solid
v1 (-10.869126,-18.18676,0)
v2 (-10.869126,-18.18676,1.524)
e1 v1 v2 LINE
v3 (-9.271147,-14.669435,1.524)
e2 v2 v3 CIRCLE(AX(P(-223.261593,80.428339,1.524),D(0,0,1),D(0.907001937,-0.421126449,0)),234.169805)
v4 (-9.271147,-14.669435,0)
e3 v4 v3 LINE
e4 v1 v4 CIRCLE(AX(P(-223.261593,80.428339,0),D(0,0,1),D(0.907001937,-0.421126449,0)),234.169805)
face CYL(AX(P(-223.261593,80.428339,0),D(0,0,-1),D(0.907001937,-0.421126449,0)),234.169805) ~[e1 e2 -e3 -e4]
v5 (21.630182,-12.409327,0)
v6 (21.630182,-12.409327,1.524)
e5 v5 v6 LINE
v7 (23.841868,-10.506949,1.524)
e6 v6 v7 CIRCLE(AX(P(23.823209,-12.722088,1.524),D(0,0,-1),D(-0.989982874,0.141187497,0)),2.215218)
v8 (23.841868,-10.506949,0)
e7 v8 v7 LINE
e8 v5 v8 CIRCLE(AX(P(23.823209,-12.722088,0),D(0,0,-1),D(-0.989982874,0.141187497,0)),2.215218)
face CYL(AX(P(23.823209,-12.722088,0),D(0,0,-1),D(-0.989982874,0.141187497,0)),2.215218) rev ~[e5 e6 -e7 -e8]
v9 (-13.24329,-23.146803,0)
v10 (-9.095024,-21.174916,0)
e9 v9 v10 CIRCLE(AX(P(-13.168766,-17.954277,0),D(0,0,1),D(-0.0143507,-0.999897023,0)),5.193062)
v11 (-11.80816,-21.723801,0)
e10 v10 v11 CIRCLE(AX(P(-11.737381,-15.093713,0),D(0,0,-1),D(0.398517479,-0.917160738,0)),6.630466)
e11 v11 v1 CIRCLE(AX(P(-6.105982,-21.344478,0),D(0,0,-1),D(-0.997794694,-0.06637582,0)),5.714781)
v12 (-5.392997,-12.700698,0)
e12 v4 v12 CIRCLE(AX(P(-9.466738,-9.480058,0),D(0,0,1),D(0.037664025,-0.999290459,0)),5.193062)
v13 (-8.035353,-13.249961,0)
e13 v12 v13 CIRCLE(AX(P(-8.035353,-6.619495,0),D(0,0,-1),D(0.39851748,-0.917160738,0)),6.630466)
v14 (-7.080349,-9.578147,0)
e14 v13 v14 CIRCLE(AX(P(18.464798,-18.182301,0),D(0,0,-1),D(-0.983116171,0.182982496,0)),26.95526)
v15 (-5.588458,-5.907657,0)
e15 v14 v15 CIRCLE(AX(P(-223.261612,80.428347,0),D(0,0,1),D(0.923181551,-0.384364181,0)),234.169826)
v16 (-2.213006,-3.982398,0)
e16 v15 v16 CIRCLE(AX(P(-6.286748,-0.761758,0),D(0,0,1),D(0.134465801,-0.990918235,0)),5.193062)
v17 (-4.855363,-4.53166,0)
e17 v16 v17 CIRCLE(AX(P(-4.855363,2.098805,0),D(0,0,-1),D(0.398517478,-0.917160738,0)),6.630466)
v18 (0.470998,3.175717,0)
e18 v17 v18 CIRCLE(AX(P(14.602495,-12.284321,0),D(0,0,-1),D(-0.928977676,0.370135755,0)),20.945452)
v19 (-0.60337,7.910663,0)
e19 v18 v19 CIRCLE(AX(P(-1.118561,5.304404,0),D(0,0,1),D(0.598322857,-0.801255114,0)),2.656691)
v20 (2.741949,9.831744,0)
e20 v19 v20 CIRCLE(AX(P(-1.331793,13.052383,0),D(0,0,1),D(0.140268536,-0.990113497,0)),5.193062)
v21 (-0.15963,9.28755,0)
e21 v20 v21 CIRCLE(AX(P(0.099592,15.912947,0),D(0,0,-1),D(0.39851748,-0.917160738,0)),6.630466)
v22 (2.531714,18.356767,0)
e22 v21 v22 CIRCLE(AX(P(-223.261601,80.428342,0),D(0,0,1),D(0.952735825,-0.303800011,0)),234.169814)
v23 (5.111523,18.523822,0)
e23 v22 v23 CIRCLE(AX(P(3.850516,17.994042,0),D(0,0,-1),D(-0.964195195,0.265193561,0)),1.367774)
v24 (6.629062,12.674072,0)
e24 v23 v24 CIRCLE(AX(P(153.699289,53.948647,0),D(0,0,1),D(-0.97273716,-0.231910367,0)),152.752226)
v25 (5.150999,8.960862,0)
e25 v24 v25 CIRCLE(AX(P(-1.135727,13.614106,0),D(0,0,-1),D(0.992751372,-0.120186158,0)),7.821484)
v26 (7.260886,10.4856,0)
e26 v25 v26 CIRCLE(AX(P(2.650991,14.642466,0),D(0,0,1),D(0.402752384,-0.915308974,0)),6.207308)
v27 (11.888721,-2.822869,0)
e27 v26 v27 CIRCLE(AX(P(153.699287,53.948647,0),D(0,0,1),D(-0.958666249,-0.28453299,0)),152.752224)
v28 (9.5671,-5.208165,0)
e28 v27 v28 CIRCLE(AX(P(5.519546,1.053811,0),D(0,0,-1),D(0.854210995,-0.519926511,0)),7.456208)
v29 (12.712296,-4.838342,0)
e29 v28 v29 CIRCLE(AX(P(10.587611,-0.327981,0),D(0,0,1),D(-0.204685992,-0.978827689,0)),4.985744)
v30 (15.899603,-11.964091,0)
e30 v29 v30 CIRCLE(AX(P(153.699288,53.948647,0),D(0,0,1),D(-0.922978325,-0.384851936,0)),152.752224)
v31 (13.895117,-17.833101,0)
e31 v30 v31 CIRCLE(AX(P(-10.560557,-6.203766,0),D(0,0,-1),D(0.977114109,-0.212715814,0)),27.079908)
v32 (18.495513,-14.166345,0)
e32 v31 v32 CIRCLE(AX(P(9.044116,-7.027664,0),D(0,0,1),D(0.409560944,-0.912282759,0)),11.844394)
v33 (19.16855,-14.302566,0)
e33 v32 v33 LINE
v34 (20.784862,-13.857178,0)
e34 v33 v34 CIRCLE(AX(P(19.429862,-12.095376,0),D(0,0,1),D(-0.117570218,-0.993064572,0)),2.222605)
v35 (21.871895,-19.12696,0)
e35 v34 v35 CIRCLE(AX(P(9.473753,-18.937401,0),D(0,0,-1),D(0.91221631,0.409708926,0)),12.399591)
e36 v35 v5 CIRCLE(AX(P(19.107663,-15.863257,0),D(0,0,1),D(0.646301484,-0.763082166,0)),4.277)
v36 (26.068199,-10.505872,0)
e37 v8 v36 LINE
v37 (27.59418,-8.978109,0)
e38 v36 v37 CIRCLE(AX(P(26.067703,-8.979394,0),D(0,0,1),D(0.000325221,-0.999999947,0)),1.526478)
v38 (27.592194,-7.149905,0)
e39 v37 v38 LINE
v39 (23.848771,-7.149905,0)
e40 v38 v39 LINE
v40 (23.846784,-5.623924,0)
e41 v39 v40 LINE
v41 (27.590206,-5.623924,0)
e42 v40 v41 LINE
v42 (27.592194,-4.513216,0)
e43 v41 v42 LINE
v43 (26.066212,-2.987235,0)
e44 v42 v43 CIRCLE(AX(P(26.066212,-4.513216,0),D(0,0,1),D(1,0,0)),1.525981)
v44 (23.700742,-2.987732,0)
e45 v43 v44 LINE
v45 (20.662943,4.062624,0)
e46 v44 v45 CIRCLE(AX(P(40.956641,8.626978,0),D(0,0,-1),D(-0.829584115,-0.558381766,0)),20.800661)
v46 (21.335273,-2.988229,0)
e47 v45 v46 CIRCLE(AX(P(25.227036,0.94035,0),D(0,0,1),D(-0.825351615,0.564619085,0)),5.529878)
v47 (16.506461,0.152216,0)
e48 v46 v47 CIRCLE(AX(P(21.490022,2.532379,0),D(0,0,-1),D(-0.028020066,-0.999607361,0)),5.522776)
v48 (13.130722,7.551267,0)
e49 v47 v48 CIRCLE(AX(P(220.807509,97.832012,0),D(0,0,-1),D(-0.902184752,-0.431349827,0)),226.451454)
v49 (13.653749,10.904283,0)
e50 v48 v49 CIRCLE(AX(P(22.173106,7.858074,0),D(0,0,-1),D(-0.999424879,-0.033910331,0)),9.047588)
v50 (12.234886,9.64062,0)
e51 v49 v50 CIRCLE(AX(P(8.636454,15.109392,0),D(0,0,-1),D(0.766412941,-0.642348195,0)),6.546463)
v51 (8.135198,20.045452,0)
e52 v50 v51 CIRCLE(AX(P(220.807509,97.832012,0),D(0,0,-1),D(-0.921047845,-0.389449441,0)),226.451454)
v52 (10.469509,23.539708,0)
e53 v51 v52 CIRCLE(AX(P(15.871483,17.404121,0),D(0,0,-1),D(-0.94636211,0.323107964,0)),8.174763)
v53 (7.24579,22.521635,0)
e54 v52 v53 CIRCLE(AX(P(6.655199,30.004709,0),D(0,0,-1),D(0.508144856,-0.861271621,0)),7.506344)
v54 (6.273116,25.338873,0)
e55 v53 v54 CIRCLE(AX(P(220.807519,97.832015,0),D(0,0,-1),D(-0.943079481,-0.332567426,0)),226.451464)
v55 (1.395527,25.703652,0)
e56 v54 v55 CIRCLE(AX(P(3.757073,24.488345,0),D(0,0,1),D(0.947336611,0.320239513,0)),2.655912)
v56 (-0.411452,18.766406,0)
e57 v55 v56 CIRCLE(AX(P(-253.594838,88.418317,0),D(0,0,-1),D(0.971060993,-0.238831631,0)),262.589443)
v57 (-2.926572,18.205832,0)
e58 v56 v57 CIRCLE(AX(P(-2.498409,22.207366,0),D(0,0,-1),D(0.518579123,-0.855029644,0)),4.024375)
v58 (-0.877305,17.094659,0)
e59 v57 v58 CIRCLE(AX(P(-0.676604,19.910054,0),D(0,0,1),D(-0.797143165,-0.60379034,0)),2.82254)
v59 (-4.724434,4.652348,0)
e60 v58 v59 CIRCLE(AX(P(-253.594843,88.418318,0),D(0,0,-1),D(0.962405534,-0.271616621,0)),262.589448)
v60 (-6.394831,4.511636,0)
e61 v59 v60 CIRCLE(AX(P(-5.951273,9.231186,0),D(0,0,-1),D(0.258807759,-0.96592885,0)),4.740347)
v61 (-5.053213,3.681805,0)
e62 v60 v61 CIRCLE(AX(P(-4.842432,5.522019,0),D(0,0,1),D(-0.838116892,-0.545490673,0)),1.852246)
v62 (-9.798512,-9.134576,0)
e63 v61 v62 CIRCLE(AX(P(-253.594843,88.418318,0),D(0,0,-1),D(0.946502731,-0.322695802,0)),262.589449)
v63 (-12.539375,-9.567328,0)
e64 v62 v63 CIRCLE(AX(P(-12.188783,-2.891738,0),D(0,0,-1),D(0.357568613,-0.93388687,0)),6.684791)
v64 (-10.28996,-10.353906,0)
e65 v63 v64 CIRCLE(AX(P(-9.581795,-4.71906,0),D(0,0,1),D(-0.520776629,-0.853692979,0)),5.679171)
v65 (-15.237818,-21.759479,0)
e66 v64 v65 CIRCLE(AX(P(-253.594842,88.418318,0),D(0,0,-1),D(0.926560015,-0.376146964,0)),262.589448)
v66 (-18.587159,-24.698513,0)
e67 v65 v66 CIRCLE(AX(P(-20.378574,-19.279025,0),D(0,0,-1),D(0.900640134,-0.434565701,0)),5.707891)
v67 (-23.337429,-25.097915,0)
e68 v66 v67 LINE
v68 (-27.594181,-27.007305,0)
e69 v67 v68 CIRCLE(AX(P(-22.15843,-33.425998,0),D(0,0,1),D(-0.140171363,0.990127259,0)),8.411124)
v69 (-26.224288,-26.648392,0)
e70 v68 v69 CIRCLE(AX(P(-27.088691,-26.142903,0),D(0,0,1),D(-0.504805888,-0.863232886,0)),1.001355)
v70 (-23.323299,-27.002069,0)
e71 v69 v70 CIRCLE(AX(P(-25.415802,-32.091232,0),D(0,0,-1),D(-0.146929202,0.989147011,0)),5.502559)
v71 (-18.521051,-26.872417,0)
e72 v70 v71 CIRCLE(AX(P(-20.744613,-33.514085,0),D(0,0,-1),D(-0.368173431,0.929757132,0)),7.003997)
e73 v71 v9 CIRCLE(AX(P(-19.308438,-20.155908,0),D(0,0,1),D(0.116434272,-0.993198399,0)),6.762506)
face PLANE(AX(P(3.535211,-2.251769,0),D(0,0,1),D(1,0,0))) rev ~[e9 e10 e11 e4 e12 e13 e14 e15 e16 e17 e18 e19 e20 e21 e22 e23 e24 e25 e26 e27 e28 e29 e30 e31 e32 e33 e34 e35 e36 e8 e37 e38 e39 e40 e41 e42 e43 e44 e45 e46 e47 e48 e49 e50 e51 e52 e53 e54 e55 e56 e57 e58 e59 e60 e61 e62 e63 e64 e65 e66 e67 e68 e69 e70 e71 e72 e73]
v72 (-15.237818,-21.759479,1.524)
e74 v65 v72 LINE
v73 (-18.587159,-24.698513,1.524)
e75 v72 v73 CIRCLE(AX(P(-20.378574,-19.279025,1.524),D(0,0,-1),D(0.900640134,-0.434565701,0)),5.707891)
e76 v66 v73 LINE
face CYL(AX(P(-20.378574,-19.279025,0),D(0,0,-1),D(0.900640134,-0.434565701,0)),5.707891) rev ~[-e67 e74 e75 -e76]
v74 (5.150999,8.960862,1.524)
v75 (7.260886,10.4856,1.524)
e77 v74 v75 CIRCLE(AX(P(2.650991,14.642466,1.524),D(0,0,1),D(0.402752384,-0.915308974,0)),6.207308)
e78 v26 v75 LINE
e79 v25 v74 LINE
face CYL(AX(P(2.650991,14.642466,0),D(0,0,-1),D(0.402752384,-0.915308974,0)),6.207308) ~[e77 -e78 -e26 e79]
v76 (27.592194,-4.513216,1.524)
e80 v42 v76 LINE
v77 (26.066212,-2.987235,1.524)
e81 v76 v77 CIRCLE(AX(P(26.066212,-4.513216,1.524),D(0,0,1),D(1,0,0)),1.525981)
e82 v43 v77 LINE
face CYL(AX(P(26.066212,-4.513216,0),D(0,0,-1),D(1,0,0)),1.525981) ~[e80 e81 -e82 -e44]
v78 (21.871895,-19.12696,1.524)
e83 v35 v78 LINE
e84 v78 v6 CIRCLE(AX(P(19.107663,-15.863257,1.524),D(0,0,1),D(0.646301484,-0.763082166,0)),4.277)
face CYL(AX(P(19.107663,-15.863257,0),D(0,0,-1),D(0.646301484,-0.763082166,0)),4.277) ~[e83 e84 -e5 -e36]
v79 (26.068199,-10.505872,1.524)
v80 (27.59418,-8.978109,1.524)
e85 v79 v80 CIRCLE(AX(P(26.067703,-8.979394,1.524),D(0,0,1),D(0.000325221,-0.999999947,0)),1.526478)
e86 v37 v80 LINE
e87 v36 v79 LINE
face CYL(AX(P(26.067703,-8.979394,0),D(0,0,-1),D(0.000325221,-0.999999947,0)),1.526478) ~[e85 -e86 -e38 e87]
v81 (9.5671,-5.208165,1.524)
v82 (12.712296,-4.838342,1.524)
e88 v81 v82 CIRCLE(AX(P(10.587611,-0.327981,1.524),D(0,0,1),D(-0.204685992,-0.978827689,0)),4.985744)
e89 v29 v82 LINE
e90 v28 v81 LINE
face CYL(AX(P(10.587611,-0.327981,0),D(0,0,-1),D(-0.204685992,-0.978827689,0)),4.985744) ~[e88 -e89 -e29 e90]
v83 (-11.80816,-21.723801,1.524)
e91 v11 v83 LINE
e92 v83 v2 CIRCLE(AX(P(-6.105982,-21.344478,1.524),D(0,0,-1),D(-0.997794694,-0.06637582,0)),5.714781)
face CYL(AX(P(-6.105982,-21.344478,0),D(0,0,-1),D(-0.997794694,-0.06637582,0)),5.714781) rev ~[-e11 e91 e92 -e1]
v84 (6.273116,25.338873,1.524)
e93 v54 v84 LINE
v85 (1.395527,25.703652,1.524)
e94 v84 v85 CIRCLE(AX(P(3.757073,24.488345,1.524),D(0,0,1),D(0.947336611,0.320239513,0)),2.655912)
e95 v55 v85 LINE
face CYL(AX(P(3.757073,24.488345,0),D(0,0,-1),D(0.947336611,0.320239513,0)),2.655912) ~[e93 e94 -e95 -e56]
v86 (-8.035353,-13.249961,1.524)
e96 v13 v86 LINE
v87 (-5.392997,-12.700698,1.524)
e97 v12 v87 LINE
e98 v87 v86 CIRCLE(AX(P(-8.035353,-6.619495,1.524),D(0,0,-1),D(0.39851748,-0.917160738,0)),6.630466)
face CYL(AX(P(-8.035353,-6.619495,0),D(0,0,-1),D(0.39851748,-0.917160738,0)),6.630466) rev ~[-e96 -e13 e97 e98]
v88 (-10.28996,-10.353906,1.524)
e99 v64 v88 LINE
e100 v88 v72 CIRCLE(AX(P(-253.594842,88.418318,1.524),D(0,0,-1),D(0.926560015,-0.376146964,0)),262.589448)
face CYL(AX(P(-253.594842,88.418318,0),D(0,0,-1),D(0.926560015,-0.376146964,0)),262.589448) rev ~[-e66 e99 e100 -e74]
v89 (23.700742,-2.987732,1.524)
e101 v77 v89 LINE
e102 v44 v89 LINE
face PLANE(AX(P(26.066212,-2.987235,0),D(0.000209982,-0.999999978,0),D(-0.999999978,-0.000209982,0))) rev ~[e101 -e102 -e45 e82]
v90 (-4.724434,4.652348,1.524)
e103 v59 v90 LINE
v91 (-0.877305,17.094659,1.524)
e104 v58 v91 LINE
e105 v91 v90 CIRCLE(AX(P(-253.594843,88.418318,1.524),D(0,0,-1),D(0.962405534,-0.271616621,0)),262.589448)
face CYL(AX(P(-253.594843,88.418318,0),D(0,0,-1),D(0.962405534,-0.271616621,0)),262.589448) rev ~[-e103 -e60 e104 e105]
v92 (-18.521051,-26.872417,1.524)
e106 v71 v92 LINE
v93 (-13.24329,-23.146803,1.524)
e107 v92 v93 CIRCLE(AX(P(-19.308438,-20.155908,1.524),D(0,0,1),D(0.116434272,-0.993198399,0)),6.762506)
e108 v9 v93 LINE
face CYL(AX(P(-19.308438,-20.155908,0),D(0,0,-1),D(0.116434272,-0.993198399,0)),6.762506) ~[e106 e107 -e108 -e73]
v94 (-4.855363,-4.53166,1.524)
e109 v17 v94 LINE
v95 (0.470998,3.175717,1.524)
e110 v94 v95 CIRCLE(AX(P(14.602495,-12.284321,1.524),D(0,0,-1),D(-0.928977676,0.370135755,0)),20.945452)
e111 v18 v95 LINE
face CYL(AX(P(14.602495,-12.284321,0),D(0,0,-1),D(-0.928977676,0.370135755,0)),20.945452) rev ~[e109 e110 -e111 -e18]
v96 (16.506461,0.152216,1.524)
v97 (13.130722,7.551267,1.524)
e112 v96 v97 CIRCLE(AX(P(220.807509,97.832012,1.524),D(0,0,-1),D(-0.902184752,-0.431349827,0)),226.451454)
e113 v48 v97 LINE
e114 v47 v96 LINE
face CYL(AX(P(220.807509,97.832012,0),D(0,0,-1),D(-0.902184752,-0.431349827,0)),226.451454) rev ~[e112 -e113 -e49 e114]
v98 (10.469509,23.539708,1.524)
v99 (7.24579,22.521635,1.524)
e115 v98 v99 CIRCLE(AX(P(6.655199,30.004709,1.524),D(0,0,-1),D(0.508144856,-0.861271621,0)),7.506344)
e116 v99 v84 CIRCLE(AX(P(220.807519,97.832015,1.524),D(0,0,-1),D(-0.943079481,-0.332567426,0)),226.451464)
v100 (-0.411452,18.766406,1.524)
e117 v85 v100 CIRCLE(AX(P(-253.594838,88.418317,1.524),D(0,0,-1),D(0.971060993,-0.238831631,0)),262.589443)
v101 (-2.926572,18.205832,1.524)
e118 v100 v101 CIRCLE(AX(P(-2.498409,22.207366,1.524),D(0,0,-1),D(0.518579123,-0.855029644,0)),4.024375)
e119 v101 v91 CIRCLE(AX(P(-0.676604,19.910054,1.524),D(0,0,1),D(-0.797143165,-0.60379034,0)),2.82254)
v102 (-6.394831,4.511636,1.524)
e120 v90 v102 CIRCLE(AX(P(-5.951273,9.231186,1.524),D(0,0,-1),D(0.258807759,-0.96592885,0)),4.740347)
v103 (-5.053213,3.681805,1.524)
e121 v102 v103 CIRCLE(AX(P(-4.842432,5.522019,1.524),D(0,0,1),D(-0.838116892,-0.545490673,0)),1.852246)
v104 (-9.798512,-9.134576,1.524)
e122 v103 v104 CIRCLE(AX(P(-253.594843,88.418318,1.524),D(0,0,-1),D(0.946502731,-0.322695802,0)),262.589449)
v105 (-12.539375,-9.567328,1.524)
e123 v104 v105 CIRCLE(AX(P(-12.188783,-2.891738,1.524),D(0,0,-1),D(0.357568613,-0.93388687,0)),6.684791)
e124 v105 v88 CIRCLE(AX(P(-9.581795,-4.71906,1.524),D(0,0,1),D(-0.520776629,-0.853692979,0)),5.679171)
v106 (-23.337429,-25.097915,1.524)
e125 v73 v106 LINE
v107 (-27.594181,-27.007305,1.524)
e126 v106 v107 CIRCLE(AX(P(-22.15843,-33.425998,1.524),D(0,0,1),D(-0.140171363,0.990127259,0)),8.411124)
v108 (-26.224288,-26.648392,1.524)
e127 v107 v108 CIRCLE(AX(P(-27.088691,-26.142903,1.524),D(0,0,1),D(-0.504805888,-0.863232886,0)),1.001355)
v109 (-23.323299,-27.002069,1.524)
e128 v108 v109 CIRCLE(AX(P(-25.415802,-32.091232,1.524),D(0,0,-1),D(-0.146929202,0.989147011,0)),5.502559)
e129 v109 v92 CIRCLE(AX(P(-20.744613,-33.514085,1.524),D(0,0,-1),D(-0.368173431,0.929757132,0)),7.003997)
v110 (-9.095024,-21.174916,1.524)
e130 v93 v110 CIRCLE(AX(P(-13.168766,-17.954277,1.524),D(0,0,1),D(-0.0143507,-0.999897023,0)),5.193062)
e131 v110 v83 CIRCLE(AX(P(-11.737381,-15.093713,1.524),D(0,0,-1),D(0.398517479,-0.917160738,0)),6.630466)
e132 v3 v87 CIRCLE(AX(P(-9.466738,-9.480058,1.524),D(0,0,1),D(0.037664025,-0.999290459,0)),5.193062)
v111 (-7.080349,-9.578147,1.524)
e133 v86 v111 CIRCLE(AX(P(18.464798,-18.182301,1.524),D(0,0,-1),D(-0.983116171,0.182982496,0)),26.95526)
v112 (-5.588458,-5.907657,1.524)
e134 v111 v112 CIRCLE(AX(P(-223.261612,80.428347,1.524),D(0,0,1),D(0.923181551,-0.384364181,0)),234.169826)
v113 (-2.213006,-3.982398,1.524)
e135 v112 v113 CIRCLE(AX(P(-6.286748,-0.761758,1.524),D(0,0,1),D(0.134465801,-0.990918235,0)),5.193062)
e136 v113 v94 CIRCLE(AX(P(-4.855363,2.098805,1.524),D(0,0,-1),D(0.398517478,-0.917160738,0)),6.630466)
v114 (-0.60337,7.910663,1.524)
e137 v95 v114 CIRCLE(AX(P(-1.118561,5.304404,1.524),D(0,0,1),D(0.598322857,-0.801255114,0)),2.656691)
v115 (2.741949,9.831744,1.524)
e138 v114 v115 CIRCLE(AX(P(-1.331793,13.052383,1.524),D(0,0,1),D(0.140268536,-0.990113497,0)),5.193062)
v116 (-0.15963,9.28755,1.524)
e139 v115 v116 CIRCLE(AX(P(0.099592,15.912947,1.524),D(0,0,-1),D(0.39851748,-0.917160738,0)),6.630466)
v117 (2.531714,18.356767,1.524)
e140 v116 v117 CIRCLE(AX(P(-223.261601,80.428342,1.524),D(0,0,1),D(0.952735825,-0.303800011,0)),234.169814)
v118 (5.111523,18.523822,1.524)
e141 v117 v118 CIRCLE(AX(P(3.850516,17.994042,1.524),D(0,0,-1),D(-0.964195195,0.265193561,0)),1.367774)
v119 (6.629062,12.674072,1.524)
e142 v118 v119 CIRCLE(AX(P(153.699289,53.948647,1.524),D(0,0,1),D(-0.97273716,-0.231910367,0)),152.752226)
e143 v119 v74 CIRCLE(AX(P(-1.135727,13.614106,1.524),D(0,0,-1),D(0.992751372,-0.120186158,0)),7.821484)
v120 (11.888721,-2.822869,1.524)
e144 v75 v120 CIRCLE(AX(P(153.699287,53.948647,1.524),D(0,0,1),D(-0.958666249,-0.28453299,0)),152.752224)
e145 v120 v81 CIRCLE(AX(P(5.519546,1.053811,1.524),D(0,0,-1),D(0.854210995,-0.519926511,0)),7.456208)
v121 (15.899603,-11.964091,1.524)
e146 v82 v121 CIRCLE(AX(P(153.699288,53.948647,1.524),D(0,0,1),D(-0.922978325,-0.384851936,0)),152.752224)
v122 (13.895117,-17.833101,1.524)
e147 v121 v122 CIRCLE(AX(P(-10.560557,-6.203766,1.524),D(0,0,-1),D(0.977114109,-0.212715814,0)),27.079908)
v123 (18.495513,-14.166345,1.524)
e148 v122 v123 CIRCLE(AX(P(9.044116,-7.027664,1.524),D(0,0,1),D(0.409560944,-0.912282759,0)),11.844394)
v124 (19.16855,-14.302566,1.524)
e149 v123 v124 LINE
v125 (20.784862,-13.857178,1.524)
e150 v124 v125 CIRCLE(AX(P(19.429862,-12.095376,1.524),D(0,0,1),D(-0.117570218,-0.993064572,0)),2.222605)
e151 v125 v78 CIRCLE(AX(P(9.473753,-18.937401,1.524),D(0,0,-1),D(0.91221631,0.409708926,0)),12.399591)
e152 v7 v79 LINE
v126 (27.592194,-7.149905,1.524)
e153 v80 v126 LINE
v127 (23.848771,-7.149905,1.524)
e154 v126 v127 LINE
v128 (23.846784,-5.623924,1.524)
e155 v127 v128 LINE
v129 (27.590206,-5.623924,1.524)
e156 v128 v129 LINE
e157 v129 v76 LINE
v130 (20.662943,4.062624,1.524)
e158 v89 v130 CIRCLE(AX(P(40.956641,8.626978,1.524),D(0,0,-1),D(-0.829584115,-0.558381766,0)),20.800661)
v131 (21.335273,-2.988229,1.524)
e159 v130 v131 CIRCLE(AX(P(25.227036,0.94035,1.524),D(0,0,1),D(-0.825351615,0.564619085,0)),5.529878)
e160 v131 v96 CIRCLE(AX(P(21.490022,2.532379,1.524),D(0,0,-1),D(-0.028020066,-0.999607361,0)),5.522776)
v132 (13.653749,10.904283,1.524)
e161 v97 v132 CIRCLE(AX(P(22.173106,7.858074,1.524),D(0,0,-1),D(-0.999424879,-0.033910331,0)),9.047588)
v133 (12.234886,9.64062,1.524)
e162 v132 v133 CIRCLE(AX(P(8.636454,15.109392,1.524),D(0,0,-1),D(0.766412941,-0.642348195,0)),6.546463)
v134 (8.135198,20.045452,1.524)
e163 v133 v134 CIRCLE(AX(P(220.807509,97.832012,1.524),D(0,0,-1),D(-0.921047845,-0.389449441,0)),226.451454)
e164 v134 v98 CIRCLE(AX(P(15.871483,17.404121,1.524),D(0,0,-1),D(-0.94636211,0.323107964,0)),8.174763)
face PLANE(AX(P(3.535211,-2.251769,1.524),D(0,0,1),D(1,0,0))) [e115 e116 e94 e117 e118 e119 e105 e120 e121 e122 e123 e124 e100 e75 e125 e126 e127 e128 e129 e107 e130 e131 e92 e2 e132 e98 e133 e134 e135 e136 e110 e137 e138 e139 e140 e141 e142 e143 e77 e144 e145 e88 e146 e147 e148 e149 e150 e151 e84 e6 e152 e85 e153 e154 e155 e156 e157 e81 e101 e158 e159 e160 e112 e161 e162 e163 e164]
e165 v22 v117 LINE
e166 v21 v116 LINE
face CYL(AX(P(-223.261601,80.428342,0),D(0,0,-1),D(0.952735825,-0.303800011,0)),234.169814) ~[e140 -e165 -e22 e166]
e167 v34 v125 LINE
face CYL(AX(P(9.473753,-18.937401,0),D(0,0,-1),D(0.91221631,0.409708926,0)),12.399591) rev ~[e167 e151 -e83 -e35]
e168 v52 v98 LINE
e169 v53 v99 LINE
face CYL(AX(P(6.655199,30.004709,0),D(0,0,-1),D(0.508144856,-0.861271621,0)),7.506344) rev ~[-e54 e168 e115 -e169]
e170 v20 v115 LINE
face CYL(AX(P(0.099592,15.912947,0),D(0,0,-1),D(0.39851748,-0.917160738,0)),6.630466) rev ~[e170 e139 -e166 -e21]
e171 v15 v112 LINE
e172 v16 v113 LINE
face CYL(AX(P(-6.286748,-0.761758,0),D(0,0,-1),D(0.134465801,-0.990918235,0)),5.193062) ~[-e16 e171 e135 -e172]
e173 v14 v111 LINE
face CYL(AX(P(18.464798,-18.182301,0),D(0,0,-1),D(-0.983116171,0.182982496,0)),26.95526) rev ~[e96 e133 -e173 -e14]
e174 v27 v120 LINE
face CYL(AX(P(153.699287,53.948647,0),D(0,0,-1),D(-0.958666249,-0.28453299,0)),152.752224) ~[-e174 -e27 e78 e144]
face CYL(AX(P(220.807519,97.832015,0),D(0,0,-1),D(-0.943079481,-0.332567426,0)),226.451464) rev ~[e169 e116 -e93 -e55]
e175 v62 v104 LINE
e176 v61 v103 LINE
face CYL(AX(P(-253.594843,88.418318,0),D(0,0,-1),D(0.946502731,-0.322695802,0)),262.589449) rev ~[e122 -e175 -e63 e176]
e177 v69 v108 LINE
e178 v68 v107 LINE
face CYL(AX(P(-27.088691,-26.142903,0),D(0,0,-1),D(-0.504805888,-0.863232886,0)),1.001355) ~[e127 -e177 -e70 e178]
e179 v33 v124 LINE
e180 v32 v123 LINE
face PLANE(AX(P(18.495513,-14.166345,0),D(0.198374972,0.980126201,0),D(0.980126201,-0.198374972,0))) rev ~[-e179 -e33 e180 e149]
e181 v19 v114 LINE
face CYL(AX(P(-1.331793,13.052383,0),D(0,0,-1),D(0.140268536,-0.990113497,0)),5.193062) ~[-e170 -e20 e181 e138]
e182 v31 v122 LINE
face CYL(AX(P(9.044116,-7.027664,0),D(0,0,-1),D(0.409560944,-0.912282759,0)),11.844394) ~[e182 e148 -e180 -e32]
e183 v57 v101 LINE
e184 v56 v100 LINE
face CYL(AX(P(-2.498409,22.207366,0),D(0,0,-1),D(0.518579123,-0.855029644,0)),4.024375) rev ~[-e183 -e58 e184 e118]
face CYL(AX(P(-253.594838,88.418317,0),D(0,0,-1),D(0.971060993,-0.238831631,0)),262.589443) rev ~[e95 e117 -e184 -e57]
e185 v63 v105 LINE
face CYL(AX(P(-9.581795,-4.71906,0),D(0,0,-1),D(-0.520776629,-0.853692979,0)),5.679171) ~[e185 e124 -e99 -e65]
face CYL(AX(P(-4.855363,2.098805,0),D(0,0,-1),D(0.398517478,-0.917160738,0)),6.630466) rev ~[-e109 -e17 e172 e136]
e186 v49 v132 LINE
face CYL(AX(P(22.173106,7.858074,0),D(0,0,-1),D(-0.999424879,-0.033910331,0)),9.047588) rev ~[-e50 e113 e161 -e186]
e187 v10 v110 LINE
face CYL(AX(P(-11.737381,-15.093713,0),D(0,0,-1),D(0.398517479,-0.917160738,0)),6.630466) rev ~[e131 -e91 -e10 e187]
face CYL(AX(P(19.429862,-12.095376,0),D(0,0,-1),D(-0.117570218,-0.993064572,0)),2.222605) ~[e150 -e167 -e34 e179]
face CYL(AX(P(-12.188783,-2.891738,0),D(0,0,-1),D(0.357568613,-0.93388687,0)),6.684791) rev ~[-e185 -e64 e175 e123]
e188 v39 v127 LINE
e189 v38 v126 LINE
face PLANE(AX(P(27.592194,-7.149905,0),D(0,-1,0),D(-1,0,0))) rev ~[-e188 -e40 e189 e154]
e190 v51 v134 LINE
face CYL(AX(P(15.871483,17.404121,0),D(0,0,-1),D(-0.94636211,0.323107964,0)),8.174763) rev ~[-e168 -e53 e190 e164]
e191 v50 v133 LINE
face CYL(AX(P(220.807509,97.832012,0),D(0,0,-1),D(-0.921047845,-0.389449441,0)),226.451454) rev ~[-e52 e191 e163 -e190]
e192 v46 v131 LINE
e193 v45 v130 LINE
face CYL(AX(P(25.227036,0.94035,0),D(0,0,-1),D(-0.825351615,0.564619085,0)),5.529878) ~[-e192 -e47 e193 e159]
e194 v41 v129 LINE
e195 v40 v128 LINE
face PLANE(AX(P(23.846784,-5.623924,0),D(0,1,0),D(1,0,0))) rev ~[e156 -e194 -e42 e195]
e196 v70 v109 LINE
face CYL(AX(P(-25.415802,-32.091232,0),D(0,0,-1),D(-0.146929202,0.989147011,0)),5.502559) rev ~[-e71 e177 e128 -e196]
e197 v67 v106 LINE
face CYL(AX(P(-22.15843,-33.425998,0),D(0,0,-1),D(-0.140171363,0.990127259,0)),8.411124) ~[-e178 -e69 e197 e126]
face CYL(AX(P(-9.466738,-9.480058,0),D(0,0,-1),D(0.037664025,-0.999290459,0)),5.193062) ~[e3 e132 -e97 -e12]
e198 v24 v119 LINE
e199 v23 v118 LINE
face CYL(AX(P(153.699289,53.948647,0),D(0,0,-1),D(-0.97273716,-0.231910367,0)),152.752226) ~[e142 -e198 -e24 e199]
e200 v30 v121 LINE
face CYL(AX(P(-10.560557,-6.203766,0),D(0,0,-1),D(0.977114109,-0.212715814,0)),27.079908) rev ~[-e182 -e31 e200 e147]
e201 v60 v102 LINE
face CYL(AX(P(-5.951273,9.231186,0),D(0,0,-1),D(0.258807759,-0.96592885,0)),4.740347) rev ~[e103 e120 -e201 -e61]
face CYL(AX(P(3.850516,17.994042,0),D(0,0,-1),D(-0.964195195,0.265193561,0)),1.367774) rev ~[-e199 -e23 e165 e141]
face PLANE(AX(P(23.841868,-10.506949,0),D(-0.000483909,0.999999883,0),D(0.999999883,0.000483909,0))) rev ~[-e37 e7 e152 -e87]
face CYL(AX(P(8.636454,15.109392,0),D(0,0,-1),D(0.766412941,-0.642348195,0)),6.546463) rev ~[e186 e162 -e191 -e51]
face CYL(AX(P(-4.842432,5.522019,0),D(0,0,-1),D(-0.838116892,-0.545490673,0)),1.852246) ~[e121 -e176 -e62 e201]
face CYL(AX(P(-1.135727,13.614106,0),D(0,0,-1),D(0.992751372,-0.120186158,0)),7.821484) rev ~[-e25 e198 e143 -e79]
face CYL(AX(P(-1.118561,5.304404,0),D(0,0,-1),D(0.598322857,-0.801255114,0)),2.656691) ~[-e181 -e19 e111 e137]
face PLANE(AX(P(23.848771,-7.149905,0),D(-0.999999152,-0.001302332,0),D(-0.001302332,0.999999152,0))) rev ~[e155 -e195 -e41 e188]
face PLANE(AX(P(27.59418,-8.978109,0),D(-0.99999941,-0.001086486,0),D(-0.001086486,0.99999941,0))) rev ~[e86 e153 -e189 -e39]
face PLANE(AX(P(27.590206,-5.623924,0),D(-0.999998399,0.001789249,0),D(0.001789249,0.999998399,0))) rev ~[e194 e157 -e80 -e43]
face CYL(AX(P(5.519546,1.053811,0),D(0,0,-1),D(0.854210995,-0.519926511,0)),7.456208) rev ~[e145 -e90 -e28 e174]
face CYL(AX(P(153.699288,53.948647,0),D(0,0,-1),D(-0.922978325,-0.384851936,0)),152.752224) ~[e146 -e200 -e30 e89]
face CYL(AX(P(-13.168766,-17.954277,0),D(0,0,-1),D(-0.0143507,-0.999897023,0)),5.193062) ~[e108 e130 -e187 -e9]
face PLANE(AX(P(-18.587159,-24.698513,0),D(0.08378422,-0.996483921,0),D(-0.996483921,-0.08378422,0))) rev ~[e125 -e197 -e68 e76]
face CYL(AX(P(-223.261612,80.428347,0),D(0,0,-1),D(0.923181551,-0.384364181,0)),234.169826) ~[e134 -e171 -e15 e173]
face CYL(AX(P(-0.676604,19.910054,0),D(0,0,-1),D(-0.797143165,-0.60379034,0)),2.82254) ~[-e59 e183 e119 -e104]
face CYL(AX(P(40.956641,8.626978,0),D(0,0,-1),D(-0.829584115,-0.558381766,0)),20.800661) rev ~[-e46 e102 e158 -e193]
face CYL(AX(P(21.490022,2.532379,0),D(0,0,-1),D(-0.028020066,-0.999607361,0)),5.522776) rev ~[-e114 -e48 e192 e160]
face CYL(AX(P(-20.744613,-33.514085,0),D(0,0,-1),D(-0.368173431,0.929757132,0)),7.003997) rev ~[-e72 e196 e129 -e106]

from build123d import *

# Parameters (mm, degrees)
BOSS_EXTRUDE1_DEPTH = 1.524


with BuildPart() as part:
    # Sketch1 → Boss-Extrude1 (new body)
    with BuildSketch(Plane.XY):
        with BuildLine():
            Line((23.841868496, -10.506949106), (26.068199276, -10.505871764))
            ThreePointArc((26.068199276, -10.505871764), (27.147715357, -10.058146709), (27.594179967, -8.978108726))
            Line((27.594179967, -8.978108726), (27.592193648, -7.149905424))
            Line((27.592193648, -7.149905424), (23.848771017, -7.149905424))
            Line((23.848771017, -7.149905424), (23.846783681, -5.623924224))
            Line((23.846783681, -5.623924224), (27.590206312, -5.623924224))
            Line((27.590206312, -5.623924224), (27.592193648, -4.513216426))
            ThreePointArc((27.592193648, -4.513216426), (27.145243923, -3.434184592), (26.06621194, -2.987235226))
            Line((26.06621194, -2.987235226), (23.700742448, -2.987731933))
            ThreePointArc((23.700742448, -2.987731933), (21.853763211, 0.396085968), (20.662942507, 4.062624108))
            ThreePointArc((20.662942507, 4.062624108), (19.722128306, 0.415432016), (21.335272956, -2.98822864))
            ThreePointArc((21.335272956, -2.98822864), (18.47901593, -2.097405096), (16.50646059, 0.152216254))
            ThreePointArc((16.50646059, 0.152216254), (14.785372428, 3.836585951), (13.130721746, 7.551267048))
            ThreePointArc((13.130721746, 7.551267048), (13.233622121, 9.252516805), (13.653748602, 10.904283424))
            ThreePointArc((13.653748602, 10.904283424), (12.99040582, 10.220702416), (12.234885694, 9.64061968))
            ThreePointArc((12.234885694, 9.64061968), (10.12080113, 14.817724102), (8.135197678, 20.045452354))
            ThreePointArc((8.135197678, 20.045452354), (9.07398957, 21.945137091), (10.469509483, 23.539708032))
            ThreePointArc((10.469509483, 23.539708032), (8.915709374, 22.846825686), (7.245789765, 22.521634627))
            ThreePointArc((7.245789765, 22.521634627), (6.75481808, 23.928653676), (6.273116214, 25.338873202))
            ThreePointArc((6.273116214, 25.338873202), (3.955147053, 27.136861073), (1.395527385, 25.703651887))
            ThreePointArc((1.395527385, 25.703651887), (0.515712233, 22.228862241), (-0.41145202, 18.766405854))
            ThreePointArc((-0.41145202, 18.766405854), (-1.622932108, 18.279372053), (-2.926572326, 18.205832225))
            ThreePointArc((-2.926572326, 18.205832225), (-2.022011476, 17.428802856), (-0.877304936, 17.094659314))
            ThreePointArc((-0.877304936, 17.094659314), (-2.723720739, 10.849649399), (-4.724433819, 4.652347782))
            ThreePointArc((-4.724433819, 4.652347782), (-5.553363062, 4.507568674), (-6.394830907, 4.511636389))
            ThreePointArc((-6.394830907, 4.511636389), (-5.816780919, 3.946754251), (-5.053213137, 3.681805461))
            ThreePointArc((-5.053213137, 3.681805461), (-7.342468518, -2.757262031), (-9.798511581, -9.134575953))
            ThreePointArc((-9.798511581, -9.134575953), (-11.146241899, -9.494732073), (-12.539374775, -9.567328436))
            ThreePointArc((-12.539374775, -9.567328436), (-11.456387472, -10.079926299), (-10.289959872, -10.353905718))
            ThreePointArc((-10.289959872, -10.353905718), (-12.696378355, -16.085978869), (-15.23781775, -21.759478522))
            ThreePointArc((-15.23781775, -21.759478522), (-16.613838722, -23.569338635), (-18.587158788, -24.698513227))
            Line((-18.587158788, -24.698513227), (-23.337428896, -25.097915233))
            ThreePointArc((-23.337428896, -25.097915233), (-25.600837555, -25.751570827), (-27.594180508, -27.00730498))
            ThreePointArc((-27.594180508, -27.00730498), (-26.834901197, -27.111562643), (-26.224288347, -26.648392395))
            ThreePointArc((-26.224288347, -26.648392395), (-24.749884123, -26.629116362), (-23.323298678, -27.002068563))
            ThreePointArc((-23.323298678, -27.002068563), (-20.933638176, -26.512638906), (-18.521050739, -26.872417397))
            ThreePointArc((-18.521050739, -26.872417397), (-15.408520041, -25.680590506), (-13.243289855, -23.146803434))
            ThreePointArc((-13.243289855, -23.146803434), (-10.939299547, -22.644411883), (-9.09502436, -21.174916172))
            ThreePointArc((-9.09502436, -21.174916172), (-10.422629625, -21.592521303), (-11.808160337, -21.723801278))
            ThreePointArc((-11.808160337, -21.723801278), (-11.629423676, -19.87808238), (-10.869125888, -18.186759728))
            ThreePointArc((-10.869125888, -18.186759728), (-10.06288258, -16.43139287), (-9.27114661, -14.669435086))
            ThreePointArc((-9.27114661, -14.669435086), (-7.116039845, -14.110620335), (-5.392996781, -12.70069775))
            ThreePointArc((-5.392996781, -12.70069775), (-6.685933272, -13.1111928), (-8.035353311, -13.249960648))
            ThreePointArc((-8.035353311, -13.249960648), (-7.62253261, -11.397230513), (-7.080348792, -9.578146516))
            ThreePointArc((-7.080348792, -9.578146516), (-6.326640496, -7.746057309), (-5.588458433, -5.90765738))
            ThreePointArc((-5.588458433, -5.90765738), (-3.713864907, -5.272651789), (-2.213006184, -3.982397519))
            ThreePointArc((-2.213006184, -3.982397519), (-3.505942675, -4.392892568), (-4.855362713, -4.531660417))
            ThreePointArc((-4.855362713, -4.531660417), (-2.628642535, -0.376345962), (0.470998143, 3.175716628))
            ThreePointArc((0.470998143, 3.175716628), (1.472273464, 5.892268907), (-0.603369584, 7.910662945))
            ThreePointArc((-0.603369584, 7.910662945), (1.254291962, 8.549045158), (2.741948703, 9.831743755))
            ThreePointArc((2.741948703, 9.831743755), (1.32183158, 9.396106351), (-0.159629899, 9.287550016))
            ThreePointArc((-0.159629899, 9.287550016), (1.231844903, 13.808566094), (2.531714491, 18.356766568))
            ThreePointArc((2.531714491, 18.356766568), (3.762130664, 19.35895724), (5.111523048, 18.523822342))
            ThreePointArc((5.111523048, 18.523822342), (5.841359999, 15.591441368), (6.629061504, 12.674071577))
            ThreePointArc((6.629061504, 12.674071577), (6.131201427, 10.721467417), (5.150999348, 8.960861967))
            ThreePointArc((5.150999348, 8.960861967), (6.286769778, 9.611384591), (7.260885888, 10.485599644))
            ThreePointArc((7.260885888, 10.485599644), (9.421271832, 3.777976775), (11.888720554, -2.82286929))
            ThreePointArc((11.888720554, -2.82286929), (10.862715973, -4.146724537), (9.567099571, -5.208165187))
            ThreePointArc((9.567099571, -5.208165187), (11.169841142, -5.279612135), (12.712295724, -4.838342295))
            ThreePointArc((12.712295724, -4.838342295), (14.260423663, -8.421579982), (15.8996033, -11.964090751))
            ThreePointArc((15.8996033, -11.964090751), (15.065930684, -14.956168746), (13.895117254, -17.833100562))
            ThreePointArc((13.895117254, -17.833100562), (16.426590022, -16.289885632), (18.495512952, -14.166345049))
            Line((18.495512952, -14.166345049), (19.168549545, -14.30256589))
            ThreePointArc((19.168549545, -14.30256589), (20.020311576, -14.238117294), (20.784861991, -13.857177873))
            ThreePointArc((20.784861991, -13.857177873), (21.617673082, -16.43239432), (21.871894835, -19.126960215))
            ThreePointArc((21.871894835, -19.126960215), (23.381897517, -15.709462317), (21.630181539, -12.409327303))
            ThreePointArc((21.630181539, -12.409327303), (22.378657332, -11.042665903), (23.841868496, -10.506949106))
        make_face()
    extrude(amount=BOSS_EXTRUDE1_DEPTH)


solid = part.part
